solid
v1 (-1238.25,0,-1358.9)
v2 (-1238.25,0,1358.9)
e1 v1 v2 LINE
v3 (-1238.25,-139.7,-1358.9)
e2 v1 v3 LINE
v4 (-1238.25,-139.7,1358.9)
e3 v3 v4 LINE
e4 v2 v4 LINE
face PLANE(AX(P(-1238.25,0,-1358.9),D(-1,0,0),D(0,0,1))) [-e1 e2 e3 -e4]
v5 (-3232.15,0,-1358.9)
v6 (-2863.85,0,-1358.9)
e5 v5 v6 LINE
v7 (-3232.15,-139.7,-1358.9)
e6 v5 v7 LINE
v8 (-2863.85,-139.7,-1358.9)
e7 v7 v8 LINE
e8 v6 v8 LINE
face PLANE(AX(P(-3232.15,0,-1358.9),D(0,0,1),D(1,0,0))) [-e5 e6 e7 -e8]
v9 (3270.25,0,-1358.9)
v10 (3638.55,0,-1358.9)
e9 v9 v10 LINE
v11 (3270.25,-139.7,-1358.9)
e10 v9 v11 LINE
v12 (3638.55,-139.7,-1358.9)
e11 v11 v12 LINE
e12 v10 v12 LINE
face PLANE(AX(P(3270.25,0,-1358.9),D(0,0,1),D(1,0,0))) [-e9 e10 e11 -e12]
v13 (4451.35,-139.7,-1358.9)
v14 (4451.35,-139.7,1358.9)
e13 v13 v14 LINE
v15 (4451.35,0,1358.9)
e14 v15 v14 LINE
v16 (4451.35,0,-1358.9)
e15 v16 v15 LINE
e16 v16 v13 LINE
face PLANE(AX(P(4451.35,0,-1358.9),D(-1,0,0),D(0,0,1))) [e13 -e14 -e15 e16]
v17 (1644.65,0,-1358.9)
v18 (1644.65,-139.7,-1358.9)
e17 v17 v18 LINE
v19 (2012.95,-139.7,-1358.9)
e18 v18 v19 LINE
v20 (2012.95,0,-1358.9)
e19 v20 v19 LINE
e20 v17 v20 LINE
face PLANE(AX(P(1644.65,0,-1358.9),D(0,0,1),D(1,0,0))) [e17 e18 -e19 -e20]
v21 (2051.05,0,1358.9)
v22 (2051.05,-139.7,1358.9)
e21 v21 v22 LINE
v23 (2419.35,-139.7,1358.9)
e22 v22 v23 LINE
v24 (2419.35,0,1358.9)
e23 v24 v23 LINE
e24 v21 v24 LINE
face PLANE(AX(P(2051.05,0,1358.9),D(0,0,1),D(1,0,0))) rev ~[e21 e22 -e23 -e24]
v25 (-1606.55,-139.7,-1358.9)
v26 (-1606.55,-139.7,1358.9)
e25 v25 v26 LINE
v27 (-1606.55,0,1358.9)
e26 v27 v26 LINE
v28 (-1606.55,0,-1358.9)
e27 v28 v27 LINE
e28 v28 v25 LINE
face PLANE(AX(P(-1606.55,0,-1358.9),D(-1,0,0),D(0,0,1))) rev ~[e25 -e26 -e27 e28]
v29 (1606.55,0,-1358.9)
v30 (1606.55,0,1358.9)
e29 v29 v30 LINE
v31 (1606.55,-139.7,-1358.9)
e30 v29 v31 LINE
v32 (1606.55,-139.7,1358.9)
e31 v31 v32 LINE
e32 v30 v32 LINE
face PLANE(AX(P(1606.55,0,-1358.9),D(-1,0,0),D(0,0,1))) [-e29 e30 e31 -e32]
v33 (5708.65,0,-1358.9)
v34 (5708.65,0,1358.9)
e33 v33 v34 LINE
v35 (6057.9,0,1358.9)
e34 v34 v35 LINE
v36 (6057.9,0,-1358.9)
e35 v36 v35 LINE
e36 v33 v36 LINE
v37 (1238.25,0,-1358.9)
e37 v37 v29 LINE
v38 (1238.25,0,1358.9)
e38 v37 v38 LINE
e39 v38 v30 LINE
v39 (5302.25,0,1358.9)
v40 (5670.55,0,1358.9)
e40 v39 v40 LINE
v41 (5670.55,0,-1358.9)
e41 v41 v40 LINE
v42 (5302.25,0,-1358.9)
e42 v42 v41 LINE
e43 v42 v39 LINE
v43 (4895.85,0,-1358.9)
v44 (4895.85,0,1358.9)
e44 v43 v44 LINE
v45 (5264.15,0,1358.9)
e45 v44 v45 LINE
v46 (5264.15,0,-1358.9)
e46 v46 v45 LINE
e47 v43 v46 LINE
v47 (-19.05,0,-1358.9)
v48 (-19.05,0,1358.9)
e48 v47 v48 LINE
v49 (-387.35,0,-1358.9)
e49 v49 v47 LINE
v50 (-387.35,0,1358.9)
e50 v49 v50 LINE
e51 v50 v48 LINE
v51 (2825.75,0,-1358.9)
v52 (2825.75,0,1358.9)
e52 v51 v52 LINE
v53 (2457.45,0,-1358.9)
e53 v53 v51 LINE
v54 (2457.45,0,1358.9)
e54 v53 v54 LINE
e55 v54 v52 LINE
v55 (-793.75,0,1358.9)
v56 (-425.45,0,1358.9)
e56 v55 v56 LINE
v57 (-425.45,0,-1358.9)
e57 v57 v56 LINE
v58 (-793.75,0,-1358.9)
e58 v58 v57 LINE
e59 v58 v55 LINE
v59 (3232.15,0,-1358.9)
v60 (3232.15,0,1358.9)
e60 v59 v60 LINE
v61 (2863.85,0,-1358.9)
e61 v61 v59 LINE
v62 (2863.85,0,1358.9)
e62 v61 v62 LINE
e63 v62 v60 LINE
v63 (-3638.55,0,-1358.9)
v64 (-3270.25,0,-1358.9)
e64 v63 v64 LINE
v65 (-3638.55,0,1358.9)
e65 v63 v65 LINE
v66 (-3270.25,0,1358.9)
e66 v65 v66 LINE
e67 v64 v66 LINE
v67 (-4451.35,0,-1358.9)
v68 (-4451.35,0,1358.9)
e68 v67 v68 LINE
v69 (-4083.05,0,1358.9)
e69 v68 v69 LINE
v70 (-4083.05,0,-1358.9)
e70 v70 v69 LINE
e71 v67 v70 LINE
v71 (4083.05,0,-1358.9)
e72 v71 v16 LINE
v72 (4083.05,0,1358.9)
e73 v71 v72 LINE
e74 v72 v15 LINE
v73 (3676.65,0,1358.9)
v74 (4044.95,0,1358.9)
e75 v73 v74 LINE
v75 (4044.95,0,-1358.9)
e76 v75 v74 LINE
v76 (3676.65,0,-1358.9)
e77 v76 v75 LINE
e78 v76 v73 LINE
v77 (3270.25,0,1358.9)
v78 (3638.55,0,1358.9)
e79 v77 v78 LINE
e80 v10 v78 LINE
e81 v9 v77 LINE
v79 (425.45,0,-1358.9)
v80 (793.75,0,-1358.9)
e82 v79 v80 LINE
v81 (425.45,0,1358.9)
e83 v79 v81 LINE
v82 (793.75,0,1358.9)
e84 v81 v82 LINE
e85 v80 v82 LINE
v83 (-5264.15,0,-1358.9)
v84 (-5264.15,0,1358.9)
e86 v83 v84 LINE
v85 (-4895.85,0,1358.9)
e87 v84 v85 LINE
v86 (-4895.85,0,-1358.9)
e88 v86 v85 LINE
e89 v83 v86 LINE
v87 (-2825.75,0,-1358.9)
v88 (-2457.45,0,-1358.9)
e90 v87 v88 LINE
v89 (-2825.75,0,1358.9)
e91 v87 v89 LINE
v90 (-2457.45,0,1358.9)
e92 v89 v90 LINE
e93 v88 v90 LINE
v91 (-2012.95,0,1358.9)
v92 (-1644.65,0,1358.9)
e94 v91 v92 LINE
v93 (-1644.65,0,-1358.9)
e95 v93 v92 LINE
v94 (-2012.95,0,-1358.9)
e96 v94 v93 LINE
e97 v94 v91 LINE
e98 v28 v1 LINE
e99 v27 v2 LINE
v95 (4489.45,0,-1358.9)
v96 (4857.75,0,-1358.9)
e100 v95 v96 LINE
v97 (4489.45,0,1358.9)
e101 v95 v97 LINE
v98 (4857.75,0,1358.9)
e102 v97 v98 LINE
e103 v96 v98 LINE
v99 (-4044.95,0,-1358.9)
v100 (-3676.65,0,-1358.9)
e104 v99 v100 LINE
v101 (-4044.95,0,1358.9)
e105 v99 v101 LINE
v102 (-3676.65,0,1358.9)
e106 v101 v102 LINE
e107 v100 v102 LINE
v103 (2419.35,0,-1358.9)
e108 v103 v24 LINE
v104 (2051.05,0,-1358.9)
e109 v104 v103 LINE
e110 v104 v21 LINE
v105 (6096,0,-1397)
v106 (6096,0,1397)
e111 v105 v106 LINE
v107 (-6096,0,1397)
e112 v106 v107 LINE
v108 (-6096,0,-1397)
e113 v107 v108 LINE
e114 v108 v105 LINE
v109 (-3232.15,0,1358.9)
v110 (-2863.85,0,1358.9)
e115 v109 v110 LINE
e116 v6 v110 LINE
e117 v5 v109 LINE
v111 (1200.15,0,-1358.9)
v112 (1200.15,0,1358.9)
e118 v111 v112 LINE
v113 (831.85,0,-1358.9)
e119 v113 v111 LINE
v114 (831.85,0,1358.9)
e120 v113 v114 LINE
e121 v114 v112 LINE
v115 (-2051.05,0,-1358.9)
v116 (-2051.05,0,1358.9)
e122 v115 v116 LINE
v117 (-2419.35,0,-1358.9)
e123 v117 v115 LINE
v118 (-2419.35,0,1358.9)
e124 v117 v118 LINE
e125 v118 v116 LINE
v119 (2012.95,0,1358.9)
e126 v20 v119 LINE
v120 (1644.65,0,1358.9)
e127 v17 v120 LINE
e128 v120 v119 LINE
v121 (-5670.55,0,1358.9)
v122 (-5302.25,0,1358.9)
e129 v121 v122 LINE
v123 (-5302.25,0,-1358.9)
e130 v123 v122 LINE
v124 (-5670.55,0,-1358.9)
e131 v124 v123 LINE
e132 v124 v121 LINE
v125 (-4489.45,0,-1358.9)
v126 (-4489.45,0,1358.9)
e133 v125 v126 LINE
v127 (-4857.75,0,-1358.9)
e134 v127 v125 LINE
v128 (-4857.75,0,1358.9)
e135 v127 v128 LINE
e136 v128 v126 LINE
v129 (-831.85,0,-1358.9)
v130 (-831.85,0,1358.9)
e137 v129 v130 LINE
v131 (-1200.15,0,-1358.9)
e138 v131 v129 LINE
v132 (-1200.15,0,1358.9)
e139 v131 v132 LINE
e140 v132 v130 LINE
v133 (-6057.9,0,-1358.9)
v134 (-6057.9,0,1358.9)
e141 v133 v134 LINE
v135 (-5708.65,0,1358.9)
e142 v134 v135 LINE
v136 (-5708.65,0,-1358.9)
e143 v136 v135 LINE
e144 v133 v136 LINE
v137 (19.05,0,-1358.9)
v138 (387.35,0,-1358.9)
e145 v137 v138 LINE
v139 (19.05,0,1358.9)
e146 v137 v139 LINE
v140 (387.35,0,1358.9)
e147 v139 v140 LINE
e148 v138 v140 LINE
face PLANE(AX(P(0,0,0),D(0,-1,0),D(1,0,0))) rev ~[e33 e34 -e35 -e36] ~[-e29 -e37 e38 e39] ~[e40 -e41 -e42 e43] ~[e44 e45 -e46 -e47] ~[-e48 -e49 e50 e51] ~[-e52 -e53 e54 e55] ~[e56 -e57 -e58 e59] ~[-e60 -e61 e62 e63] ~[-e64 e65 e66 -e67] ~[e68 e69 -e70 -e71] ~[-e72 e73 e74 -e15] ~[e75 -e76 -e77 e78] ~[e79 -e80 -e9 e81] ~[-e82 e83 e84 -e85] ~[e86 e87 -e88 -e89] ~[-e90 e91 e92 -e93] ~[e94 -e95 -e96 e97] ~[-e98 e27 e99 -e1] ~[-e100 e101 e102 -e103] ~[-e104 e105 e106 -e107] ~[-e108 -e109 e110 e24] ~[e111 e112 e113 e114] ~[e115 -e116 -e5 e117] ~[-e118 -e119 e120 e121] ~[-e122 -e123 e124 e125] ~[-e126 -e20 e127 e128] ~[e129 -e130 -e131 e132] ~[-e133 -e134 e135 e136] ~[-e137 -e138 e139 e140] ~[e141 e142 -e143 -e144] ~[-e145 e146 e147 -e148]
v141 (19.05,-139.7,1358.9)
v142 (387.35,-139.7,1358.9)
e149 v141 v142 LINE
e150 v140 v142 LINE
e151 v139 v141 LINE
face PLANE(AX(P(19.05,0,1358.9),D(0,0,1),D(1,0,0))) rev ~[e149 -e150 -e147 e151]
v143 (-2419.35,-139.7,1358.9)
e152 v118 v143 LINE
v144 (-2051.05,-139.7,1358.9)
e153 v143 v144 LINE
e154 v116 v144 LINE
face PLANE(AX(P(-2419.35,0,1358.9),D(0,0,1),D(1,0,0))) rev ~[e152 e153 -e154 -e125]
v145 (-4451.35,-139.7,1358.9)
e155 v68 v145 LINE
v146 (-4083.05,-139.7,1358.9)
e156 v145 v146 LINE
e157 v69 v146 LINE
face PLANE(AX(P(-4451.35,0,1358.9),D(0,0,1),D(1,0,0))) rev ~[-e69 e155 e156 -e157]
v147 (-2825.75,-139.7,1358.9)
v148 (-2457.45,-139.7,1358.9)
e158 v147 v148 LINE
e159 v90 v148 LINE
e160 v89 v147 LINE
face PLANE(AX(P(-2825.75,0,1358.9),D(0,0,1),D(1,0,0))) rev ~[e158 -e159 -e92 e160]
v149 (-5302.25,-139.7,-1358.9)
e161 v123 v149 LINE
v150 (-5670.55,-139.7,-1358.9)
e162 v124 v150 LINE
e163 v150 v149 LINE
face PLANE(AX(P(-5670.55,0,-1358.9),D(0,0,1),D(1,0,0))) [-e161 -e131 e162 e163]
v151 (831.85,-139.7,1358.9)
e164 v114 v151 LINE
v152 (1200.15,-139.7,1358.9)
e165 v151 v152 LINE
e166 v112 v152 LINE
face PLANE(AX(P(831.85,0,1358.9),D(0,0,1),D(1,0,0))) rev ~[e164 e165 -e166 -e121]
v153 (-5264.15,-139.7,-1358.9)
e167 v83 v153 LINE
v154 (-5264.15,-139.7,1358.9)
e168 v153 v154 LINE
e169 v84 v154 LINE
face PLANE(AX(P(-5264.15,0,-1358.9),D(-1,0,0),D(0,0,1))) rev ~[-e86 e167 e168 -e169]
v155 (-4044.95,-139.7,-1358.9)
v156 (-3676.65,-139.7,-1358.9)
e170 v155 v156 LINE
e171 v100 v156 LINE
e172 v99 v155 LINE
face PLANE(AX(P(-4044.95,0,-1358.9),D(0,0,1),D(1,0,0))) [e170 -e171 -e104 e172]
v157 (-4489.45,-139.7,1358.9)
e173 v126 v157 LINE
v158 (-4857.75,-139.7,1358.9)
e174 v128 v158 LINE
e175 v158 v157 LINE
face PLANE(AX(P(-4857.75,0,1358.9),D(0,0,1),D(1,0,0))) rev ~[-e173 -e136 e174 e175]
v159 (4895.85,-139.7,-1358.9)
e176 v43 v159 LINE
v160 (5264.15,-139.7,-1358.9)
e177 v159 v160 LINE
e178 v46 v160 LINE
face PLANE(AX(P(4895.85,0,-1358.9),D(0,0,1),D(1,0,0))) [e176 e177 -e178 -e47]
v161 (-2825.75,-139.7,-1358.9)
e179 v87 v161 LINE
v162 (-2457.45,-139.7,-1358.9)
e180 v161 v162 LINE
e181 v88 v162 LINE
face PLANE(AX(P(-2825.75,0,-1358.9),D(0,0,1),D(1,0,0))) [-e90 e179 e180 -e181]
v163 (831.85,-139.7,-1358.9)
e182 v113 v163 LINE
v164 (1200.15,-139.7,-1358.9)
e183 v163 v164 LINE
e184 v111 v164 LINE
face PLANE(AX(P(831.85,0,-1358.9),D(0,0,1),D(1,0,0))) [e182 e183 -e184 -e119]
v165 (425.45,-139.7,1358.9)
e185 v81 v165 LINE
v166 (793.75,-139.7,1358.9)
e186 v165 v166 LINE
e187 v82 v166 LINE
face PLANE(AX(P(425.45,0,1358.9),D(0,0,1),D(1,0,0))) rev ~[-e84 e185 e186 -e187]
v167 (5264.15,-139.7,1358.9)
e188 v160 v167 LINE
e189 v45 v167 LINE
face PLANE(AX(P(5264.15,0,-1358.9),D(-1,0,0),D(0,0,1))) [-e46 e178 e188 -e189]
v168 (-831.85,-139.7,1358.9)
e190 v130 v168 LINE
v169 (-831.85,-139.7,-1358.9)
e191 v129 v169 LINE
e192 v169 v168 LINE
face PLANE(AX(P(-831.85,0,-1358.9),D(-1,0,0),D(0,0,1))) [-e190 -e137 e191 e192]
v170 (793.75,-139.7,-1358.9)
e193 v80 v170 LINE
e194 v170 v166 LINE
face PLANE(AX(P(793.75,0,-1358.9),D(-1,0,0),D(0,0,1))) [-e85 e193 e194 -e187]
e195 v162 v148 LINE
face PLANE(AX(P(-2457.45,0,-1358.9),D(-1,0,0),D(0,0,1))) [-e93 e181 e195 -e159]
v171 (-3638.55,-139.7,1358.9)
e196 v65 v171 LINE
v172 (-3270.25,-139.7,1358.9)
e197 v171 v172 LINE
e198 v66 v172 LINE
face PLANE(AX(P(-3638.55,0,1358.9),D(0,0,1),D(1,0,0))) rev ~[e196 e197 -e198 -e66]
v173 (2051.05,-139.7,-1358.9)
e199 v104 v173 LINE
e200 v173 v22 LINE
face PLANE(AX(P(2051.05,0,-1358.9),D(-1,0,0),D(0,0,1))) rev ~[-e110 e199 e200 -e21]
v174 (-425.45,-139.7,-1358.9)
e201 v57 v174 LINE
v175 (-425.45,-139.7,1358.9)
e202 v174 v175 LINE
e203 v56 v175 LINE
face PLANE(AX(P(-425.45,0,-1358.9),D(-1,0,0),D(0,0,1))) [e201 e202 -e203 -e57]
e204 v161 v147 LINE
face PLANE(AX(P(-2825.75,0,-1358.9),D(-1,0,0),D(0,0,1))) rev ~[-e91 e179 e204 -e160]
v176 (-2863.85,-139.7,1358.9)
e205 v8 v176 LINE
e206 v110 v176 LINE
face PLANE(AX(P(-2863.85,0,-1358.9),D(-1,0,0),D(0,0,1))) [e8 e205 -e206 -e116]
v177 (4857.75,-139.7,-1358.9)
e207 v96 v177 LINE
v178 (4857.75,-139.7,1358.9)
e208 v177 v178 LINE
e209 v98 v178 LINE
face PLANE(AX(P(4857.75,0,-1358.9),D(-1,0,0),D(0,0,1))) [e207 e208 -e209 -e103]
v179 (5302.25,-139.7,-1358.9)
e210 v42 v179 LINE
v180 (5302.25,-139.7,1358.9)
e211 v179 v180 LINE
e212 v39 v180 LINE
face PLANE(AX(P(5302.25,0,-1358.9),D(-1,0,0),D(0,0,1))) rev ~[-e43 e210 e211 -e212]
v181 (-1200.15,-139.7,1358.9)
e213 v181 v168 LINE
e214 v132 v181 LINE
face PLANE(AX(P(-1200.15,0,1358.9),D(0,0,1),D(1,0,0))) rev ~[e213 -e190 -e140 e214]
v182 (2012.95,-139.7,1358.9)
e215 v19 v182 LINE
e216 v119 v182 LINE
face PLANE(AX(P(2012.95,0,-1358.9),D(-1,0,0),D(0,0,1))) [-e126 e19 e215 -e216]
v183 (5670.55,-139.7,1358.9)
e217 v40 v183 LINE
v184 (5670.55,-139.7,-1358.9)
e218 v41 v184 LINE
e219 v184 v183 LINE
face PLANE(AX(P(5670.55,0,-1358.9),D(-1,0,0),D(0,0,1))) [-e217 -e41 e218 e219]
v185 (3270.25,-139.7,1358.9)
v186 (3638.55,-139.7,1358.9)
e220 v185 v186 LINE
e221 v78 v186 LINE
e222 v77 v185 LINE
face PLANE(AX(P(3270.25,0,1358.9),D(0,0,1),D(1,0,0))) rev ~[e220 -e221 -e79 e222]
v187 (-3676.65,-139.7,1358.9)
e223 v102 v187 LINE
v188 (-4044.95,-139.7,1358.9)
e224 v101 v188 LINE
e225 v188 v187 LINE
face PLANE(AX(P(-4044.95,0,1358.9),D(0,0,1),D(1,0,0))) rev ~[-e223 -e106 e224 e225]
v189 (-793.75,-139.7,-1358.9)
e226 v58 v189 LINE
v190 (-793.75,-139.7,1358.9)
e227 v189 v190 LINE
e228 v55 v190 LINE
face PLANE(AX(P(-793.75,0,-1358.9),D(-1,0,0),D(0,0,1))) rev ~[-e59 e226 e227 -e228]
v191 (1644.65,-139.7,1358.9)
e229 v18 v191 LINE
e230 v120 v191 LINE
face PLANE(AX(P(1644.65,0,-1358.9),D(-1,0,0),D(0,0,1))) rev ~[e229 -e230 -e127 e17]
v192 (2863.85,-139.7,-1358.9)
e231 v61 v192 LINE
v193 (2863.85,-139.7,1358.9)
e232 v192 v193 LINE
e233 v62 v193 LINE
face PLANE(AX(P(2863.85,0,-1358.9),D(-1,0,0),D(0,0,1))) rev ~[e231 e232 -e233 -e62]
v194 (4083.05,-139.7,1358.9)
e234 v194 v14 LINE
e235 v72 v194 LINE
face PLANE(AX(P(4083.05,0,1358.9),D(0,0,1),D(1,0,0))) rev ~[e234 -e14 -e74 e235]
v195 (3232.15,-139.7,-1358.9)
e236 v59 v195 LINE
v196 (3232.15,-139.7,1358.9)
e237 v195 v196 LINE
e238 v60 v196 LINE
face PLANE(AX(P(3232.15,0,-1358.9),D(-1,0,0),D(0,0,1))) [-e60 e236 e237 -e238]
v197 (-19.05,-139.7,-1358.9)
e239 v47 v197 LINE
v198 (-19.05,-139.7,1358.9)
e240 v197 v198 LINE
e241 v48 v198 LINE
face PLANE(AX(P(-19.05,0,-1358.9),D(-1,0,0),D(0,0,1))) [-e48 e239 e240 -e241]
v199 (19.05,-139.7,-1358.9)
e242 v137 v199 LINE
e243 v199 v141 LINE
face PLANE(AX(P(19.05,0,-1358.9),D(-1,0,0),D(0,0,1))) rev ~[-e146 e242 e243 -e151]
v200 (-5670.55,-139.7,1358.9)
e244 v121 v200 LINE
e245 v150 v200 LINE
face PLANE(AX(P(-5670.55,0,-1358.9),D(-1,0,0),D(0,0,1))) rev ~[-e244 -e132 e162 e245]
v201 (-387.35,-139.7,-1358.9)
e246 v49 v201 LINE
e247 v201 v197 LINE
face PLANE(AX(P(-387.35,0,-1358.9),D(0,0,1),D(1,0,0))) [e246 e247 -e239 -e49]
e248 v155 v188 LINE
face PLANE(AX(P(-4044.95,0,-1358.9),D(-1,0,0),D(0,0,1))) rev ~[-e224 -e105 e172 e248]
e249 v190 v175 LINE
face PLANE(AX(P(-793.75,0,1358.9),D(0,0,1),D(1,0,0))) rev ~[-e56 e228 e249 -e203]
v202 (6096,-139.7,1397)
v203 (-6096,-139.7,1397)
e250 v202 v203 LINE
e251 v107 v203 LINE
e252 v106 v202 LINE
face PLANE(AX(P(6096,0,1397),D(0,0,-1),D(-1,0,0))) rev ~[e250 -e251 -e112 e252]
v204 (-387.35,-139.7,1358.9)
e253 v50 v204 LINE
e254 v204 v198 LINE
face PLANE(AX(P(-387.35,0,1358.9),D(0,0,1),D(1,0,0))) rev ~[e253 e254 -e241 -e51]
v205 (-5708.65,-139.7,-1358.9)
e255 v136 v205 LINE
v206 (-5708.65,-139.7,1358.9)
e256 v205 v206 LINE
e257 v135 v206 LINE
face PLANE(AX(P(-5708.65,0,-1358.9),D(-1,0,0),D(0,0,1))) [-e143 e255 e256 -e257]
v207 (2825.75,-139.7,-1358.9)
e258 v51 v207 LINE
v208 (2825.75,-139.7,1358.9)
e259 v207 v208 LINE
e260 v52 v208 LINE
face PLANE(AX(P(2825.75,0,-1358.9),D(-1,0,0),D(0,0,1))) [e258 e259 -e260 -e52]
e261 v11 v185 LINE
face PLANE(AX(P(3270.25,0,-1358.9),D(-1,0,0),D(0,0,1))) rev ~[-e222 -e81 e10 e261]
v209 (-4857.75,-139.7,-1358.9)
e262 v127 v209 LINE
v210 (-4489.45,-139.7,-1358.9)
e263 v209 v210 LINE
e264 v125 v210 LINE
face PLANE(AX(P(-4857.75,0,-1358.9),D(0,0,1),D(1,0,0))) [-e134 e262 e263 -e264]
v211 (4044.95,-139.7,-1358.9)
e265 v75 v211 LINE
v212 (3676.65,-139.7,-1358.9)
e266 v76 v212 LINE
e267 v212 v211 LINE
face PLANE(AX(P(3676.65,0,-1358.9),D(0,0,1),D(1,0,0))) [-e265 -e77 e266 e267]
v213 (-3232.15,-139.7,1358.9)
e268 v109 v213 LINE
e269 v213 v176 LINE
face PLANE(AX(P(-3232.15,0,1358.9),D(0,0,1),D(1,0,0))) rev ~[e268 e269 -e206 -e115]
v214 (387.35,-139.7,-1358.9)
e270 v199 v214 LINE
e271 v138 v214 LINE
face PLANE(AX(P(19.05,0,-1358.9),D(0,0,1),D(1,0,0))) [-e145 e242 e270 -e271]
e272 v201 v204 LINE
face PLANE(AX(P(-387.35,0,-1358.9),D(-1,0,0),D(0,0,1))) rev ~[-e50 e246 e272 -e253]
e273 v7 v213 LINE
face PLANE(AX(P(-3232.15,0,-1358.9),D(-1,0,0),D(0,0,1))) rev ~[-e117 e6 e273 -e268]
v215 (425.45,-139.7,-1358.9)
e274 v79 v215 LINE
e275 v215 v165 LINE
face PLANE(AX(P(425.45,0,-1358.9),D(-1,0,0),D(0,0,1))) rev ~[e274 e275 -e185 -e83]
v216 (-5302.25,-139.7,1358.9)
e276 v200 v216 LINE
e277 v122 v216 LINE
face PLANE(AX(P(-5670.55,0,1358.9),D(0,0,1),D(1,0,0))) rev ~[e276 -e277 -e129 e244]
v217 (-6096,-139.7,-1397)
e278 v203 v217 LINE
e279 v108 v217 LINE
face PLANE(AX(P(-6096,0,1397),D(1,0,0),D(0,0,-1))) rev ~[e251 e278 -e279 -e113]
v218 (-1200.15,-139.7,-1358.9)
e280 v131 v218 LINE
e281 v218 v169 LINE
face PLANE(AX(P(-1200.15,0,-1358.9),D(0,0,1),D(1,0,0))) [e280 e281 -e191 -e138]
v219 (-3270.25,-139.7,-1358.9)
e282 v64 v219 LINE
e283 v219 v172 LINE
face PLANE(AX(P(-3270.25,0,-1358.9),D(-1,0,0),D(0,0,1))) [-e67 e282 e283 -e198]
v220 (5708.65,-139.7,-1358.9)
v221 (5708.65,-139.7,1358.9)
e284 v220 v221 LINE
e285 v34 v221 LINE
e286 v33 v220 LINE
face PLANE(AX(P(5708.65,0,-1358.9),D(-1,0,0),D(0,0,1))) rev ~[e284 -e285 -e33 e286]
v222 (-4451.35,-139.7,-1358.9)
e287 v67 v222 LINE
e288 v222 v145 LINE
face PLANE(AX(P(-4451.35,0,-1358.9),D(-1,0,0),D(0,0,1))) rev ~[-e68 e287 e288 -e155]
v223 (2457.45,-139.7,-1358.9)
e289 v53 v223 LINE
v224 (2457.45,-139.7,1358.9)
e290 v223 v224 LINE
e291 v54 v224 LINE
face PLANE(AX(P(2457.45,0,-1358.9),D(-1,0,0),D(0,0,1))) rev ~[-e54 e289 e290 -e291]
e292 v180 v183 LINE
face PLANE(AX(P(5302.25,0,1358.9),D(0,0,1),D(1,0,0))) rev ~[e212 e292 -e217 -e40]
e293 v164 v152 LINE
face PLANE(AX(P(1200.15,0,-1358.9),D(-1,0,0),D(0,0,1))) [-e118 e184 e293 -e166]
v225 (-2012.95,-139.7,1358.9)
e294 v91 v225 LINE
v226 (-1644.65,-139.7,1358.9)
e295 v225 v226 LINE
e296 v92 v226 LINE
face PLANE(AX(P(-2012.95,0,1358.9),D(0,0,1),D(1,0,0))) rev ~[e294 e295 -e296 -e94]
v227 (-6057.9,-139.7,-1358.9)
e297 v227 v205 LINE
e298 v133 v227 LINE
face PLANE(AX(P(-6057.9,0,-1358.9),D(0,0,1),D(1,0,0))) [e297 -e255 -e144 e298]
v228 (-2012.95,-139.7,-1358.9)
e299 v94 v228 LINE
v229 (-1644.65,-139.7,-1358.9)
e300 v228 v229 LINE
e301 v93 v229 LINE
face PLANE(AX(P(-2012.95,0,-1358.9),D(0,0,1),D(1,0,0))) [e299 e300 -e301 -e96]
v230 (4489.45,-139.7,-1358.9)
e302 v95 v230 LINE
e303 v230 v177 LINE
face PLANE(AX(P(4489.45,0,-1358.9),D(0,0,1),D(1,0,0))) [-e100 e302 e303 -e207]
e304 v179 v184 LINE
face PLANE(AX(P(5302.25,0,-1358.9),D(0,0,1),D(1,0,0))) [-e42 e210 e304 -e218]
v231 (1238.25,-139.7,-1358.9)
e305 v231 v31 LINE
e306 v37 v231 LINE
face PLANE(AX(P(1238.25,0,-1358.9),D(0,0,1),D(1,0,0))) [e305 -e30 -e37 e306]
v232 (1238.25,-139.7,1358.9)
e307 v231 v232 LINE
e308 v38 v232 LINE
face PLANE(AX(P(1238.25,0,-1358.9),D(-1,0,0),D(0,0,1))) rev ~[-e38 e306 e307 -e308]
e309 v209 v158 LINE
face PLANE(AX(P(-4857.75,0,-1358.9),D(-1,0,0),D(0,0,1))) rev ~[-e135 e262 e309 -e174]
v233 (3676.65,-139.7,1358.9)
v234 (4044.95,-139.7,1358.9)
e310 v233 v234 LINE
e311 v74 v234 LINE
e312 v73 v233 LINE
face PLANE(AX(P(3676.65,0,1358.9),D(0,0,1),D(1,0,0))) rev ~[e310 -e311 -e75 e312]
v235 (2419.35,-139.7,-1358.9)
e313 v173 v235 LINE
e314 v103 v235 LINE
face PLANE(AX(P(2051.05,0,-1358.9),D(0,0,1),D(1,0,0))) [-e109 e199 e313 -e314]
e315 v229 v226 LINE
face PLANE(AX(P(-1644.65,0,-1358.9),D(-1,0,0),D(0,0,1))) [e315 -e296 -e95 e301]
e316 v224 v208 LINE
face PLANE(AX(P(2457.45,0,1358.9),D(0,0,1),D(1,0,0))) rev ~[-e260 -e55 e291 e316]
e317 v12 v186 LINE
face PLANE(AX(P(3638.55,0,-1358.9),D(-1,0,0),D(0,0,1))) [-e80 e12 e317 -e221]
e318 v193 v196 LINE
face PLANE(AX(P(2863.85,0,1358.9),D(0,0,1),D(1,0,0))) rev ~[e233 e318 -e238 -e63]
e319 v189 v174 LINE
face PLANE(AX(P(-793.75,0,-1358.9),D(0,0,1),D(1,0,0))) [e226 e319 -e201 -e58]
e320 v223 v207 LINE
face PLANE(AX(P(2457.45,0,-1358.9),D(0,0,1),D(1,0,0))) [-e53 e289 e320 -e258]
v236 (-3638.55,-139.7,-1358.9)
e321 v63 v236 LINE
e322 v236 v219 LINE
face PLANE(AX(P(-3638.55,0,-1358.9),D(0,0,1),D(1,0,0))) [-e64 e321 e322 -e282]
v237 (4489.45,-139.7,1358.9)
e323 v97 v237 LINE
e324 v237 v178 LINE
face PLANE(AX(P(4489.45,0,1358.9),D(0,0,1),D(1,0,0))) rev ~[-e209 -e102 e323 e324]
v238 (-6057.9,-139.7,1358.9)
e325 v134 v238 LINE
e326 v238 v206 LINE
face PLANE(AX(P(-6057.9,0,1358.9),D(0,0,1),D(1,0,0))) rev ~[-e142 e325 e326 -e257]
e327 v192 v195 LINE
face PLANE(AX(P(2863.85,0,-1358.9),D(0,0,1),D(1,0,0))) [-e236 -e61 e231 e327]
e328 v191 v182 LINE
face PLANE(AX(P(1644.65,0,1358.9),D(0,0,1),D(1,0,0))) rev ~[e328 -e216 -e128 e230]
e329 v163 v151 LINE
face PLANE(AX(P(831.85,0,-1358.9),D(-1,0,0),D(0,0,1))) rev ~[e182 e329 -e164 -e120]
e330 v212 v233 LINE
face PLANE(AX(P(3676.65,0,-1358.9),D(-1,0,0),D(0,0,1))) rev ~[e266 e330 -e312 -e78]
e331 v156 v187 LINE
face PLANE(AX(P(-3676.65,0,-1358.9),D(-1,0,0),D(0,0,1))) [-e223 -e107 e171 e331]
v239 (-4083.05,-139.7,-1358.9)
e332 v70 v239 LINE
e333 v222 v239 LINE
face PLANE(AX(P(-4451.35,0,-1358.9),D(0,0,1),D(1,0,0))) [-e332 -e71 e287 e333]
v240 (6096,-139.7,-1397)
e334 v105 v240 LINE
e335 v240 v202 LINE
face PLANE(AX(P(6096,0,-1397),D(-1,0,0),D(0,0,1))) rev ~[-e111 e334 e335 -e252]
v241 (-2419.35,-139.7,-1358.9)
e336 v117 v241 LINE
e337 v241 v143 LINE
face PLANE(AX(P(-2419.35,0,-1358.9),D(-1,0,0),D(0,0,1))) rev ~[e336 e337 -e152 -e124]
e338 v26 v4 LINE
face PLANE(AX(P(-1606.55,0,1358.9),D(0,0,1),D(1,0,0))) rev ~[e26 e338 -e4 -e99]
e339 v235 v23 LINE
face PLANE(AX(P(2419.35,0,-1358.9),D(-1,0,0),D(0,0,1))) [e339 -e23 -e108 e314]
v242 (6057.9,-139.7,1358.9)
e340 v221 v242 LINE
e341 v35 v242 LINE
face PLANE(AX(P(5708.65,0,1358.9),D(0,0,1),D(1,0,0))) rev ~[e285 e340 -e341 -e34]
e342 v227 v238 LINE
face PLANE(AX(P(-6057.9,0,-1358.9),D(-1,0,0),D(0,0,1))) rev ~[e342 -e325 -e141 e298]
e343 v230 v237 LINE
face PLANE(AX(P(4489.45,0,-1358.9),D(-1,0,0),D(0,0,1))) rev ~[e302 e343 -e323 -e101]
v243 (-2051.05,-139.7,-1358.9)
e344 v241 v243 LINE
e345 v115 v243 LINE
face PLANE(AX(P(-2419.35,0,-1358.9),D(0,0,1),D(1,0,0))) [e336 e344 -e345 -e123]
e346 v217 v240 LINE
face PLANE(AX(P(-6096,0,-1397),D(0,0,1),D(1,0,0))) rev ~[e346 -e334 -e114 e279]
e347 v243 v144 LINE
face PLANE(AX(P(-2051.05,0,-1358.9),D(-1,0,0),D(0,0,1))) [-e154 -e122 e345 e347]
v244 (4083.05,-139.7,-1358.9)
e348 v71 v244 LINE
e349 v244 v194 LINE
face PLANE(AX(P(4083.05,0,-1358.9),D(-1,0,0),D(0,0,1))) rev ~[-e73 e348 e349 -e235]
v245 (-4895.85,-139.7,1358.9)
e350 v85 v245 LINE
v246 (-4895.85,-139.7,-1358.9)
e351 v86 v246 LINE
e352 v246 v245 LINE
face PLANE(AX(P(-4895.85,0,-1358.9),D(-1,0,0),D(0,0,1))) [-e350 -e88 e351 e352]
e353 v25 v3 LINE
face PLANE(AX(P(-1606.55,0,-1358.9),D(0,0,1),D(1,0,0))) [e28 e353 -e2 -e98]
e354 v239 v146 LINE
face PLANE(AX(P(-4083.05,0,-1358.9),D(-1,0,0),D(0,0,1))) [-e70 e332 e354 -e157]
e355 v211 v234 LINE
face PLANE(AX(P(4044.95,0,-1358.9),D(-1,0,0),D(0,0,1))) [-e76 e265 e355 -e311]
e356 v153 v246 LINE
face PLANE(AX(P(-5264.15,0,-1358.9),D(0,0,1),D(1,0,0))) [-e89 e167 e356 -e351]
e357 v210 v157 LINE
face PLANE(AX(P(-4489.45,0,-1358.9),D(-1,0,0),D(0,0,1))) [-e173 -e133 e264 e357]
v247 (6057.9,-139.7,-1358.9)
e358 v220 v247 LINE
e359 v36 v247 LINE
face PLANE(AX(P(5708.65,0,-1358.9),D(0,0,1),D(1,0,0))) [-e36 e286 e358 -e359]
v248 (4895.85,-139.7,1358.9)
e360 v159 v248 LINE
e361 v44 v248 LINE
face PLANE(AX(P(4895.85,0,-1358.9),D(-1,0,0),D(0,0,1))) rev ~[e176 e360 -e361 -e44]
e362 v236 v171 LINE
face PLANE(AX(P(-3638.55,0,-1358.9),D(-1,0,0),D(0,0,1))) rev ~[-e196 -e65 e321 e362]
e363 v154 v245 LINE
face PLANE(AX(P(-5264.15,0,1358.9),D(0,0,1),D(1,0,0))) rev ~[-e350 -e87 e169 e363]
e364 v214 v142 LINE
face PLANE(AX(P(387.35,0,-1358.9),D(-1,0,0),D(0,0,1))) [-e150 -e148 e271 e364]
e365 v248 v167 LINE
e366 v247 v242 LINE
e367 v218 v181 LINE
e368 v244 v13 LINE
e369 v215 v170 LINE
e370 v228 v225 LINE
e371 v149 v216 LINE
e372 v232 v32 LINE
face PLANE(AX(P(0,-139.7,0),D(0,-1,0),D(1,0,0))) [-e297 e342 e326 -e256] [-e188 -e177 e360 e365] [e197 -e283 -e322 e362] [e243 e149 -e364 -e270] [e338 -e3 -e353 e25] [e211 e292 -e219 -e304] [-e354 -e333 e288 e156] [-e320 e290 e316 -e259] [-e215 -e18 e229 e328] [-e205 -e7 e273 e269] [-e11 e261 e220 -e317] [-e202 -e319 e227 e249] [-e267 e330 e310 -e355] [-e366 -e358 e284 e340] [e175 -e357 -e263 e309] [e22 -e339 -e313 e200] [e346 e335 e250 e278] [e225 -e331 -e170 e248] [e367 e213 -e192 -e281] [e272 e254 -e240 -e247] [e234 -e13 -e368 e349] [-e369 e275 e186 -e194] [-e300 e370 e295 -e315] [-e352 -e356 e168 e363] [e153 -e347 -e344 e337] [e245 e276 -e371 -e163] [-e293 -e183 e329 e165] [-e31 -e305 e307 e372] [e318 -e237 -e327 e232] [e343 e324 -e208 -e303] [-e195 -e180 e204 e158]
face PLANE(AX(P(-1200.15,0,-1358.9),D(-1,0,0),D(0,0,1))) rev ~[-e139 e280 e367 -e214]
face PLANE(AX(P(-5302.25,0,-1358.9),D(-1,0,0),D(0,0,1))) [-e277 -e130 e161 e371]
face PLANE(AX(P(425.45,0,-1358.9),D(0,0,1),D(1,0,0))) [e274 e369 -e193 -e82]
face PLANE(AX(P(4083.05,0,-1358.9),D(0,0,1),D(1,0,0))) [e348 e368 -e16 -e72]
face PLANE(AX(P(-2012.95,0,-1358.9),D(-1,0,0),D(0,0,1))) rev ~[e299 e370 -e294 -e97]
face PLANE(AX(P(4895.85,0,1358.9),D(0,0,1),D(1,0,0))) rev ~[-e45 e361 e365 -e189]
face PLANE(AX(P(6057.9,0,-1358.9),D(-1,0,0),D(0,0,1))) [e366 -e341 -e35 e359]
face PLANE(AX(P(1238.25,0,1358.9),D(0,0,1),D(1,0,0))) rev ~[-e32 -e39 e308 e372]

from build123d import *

# Parameters (mm, degrees)
F0_W     = 349.25
F0_H     = 2717.8
F0_W_2   = 368.3
F1_DEPTH = 139.7


with BuildPart() as f1:
    # F0 (on Front) → F1 (new body)
    with BuildSketch(Plane.XZ):
        Polygon((-6096, 1397), (-6096, -1397), (-2863.85, -1397), (-2825.75, -1397), (6096, -1397), (6096, 1397), align=None)
        with Locations((-5883.275, 0)):
            Rectangle(F0_W, F0_H, mode=Mode.SUBTRACT)
        with Locations((-5486.4, 0)):
            Rectangle(F0_W_2, F0_H, mode=Mode.SUBTRACT)
        with Locations((-5080, 0)):
            Rectangle(F0_W_2, F0_H, mode=Mode.SUBTRACT)
        with Locations((-4673.6, 0)):
            Rectangle(F0_W_2, F0_H, mode=Mode.SUBTRACT)
        with Locations((-4267.2, 0)):
            Rectangle(F0_W_2, F0_H, mode=Mode.SUBTRACT)
        with Locations((-3860.8, 0)):
            Rectangle(F0_W_2, F0_H, mode=Mode.SUBTRACT)
        with Locations((-3454.4, 0)):
            Rectangle(F0_W_2, F0_H, mode=Mode.SUBTRACT)
        with Locations((-3048, 0)):
            Rectangle(F0_W_2, F0_H, mode=Mode.SUBTRACT)
        with Locations((-2641.6, 0)):
            Rectangle(F0_W_2, F0_H, mode=Mode.SUBTRACT)
        with Locations((-2235.2, 0)):
            Rectangle(F0_W_2, F0_H, mode=Mode.SUBTRACT)
        with Locations((-1828.8, 0)):
            Rectangle(F0_W_2, F0_H, mode=Mode.SUBTRACT)
        with Locations((-1422.4, 0)):
            Rectangle(F0_W_2, F0_H, mode=Mode.SUBTRACT)
        with Locations((-1016, 0)):
            Rectangle(F0_W_2, F0_H, mode=Mode.SUBTRACT)
        with Locations((-609.6, 0)):
            Rectangle(F0_W_2, F0_H, mode=Mode.SUBTRACT)
        with Locations((-203.2, 0)):
            Rectangle(F0_W_2, F0_H, mode=Mode.SUBTRACT)
        with Locations((203.2, 0)):
            Rectangle(F0_W_2, F0_H, mode=Mode.SUBTRACT)
        with Locations((609.6, 0)):
            Rectangle(F0_W_2, F0_H, mode=Mode.SUBTRACT)
        with Locations((1016, 0)):
            Rectangle(F0_W_2, F0_H, mode=Mode.SUBTRACT)
        with Locations((1422.4, 0)):
            Rectangle(F0_W_2, F0_H, mode=Mode.SUBTRACT)
        with Locations((1828.8, 0)):
            Rectangle(F0_W_2, F0_H, mode=Mode.SUBTRACT)
        with Locations((2235.2, 0)):
            Rectangle(F0_W_2, F0_H, mode=Mode.SUBTRACT)
        with Locations((2641.6, 0)):
            Rectangle(F0_W_2, F0_H, mode=Mode.SUBTRACT)
        with Locations((3048, 0)):
            Rectangle(F0_W_2, F0_H, mode=Mode.SUBTRACT)
        with Locations((3454.4, 0)):
            Rectangle(F0_W_2, F0_H, mode=Mode.SUBTRACT)
        with Locations((3860.8, 0)):
            Rectangle(F0_W_2, F0_H, mode=Mode.SUBTRACT)
        with Locations((4267.2, 0)):
            Rectangle(F0_W_2, F0_H, mode=Mode.SUBTRACT)
        with Locations((4673.6, 0)):
            Rectangle(F0_W_2, F0_H, mode=Mode.SUBTRACT)
        with Locations((5080, 0)):
            Rectangle(F0_W_2, F0_H, mode=Mode.SUBTRACT)
        with Locations((5486.4, 0)):
            Rectangle(F0_W_2, F0_H, mode=Mode.SUBTRACT)
        with Locations((5883.275, 0)):
            Rectangle(F0_W, F0_H, mode=Mode.SUBTRACT)
    extrude(amount=F1_DEPTH)


solid = f1.part
